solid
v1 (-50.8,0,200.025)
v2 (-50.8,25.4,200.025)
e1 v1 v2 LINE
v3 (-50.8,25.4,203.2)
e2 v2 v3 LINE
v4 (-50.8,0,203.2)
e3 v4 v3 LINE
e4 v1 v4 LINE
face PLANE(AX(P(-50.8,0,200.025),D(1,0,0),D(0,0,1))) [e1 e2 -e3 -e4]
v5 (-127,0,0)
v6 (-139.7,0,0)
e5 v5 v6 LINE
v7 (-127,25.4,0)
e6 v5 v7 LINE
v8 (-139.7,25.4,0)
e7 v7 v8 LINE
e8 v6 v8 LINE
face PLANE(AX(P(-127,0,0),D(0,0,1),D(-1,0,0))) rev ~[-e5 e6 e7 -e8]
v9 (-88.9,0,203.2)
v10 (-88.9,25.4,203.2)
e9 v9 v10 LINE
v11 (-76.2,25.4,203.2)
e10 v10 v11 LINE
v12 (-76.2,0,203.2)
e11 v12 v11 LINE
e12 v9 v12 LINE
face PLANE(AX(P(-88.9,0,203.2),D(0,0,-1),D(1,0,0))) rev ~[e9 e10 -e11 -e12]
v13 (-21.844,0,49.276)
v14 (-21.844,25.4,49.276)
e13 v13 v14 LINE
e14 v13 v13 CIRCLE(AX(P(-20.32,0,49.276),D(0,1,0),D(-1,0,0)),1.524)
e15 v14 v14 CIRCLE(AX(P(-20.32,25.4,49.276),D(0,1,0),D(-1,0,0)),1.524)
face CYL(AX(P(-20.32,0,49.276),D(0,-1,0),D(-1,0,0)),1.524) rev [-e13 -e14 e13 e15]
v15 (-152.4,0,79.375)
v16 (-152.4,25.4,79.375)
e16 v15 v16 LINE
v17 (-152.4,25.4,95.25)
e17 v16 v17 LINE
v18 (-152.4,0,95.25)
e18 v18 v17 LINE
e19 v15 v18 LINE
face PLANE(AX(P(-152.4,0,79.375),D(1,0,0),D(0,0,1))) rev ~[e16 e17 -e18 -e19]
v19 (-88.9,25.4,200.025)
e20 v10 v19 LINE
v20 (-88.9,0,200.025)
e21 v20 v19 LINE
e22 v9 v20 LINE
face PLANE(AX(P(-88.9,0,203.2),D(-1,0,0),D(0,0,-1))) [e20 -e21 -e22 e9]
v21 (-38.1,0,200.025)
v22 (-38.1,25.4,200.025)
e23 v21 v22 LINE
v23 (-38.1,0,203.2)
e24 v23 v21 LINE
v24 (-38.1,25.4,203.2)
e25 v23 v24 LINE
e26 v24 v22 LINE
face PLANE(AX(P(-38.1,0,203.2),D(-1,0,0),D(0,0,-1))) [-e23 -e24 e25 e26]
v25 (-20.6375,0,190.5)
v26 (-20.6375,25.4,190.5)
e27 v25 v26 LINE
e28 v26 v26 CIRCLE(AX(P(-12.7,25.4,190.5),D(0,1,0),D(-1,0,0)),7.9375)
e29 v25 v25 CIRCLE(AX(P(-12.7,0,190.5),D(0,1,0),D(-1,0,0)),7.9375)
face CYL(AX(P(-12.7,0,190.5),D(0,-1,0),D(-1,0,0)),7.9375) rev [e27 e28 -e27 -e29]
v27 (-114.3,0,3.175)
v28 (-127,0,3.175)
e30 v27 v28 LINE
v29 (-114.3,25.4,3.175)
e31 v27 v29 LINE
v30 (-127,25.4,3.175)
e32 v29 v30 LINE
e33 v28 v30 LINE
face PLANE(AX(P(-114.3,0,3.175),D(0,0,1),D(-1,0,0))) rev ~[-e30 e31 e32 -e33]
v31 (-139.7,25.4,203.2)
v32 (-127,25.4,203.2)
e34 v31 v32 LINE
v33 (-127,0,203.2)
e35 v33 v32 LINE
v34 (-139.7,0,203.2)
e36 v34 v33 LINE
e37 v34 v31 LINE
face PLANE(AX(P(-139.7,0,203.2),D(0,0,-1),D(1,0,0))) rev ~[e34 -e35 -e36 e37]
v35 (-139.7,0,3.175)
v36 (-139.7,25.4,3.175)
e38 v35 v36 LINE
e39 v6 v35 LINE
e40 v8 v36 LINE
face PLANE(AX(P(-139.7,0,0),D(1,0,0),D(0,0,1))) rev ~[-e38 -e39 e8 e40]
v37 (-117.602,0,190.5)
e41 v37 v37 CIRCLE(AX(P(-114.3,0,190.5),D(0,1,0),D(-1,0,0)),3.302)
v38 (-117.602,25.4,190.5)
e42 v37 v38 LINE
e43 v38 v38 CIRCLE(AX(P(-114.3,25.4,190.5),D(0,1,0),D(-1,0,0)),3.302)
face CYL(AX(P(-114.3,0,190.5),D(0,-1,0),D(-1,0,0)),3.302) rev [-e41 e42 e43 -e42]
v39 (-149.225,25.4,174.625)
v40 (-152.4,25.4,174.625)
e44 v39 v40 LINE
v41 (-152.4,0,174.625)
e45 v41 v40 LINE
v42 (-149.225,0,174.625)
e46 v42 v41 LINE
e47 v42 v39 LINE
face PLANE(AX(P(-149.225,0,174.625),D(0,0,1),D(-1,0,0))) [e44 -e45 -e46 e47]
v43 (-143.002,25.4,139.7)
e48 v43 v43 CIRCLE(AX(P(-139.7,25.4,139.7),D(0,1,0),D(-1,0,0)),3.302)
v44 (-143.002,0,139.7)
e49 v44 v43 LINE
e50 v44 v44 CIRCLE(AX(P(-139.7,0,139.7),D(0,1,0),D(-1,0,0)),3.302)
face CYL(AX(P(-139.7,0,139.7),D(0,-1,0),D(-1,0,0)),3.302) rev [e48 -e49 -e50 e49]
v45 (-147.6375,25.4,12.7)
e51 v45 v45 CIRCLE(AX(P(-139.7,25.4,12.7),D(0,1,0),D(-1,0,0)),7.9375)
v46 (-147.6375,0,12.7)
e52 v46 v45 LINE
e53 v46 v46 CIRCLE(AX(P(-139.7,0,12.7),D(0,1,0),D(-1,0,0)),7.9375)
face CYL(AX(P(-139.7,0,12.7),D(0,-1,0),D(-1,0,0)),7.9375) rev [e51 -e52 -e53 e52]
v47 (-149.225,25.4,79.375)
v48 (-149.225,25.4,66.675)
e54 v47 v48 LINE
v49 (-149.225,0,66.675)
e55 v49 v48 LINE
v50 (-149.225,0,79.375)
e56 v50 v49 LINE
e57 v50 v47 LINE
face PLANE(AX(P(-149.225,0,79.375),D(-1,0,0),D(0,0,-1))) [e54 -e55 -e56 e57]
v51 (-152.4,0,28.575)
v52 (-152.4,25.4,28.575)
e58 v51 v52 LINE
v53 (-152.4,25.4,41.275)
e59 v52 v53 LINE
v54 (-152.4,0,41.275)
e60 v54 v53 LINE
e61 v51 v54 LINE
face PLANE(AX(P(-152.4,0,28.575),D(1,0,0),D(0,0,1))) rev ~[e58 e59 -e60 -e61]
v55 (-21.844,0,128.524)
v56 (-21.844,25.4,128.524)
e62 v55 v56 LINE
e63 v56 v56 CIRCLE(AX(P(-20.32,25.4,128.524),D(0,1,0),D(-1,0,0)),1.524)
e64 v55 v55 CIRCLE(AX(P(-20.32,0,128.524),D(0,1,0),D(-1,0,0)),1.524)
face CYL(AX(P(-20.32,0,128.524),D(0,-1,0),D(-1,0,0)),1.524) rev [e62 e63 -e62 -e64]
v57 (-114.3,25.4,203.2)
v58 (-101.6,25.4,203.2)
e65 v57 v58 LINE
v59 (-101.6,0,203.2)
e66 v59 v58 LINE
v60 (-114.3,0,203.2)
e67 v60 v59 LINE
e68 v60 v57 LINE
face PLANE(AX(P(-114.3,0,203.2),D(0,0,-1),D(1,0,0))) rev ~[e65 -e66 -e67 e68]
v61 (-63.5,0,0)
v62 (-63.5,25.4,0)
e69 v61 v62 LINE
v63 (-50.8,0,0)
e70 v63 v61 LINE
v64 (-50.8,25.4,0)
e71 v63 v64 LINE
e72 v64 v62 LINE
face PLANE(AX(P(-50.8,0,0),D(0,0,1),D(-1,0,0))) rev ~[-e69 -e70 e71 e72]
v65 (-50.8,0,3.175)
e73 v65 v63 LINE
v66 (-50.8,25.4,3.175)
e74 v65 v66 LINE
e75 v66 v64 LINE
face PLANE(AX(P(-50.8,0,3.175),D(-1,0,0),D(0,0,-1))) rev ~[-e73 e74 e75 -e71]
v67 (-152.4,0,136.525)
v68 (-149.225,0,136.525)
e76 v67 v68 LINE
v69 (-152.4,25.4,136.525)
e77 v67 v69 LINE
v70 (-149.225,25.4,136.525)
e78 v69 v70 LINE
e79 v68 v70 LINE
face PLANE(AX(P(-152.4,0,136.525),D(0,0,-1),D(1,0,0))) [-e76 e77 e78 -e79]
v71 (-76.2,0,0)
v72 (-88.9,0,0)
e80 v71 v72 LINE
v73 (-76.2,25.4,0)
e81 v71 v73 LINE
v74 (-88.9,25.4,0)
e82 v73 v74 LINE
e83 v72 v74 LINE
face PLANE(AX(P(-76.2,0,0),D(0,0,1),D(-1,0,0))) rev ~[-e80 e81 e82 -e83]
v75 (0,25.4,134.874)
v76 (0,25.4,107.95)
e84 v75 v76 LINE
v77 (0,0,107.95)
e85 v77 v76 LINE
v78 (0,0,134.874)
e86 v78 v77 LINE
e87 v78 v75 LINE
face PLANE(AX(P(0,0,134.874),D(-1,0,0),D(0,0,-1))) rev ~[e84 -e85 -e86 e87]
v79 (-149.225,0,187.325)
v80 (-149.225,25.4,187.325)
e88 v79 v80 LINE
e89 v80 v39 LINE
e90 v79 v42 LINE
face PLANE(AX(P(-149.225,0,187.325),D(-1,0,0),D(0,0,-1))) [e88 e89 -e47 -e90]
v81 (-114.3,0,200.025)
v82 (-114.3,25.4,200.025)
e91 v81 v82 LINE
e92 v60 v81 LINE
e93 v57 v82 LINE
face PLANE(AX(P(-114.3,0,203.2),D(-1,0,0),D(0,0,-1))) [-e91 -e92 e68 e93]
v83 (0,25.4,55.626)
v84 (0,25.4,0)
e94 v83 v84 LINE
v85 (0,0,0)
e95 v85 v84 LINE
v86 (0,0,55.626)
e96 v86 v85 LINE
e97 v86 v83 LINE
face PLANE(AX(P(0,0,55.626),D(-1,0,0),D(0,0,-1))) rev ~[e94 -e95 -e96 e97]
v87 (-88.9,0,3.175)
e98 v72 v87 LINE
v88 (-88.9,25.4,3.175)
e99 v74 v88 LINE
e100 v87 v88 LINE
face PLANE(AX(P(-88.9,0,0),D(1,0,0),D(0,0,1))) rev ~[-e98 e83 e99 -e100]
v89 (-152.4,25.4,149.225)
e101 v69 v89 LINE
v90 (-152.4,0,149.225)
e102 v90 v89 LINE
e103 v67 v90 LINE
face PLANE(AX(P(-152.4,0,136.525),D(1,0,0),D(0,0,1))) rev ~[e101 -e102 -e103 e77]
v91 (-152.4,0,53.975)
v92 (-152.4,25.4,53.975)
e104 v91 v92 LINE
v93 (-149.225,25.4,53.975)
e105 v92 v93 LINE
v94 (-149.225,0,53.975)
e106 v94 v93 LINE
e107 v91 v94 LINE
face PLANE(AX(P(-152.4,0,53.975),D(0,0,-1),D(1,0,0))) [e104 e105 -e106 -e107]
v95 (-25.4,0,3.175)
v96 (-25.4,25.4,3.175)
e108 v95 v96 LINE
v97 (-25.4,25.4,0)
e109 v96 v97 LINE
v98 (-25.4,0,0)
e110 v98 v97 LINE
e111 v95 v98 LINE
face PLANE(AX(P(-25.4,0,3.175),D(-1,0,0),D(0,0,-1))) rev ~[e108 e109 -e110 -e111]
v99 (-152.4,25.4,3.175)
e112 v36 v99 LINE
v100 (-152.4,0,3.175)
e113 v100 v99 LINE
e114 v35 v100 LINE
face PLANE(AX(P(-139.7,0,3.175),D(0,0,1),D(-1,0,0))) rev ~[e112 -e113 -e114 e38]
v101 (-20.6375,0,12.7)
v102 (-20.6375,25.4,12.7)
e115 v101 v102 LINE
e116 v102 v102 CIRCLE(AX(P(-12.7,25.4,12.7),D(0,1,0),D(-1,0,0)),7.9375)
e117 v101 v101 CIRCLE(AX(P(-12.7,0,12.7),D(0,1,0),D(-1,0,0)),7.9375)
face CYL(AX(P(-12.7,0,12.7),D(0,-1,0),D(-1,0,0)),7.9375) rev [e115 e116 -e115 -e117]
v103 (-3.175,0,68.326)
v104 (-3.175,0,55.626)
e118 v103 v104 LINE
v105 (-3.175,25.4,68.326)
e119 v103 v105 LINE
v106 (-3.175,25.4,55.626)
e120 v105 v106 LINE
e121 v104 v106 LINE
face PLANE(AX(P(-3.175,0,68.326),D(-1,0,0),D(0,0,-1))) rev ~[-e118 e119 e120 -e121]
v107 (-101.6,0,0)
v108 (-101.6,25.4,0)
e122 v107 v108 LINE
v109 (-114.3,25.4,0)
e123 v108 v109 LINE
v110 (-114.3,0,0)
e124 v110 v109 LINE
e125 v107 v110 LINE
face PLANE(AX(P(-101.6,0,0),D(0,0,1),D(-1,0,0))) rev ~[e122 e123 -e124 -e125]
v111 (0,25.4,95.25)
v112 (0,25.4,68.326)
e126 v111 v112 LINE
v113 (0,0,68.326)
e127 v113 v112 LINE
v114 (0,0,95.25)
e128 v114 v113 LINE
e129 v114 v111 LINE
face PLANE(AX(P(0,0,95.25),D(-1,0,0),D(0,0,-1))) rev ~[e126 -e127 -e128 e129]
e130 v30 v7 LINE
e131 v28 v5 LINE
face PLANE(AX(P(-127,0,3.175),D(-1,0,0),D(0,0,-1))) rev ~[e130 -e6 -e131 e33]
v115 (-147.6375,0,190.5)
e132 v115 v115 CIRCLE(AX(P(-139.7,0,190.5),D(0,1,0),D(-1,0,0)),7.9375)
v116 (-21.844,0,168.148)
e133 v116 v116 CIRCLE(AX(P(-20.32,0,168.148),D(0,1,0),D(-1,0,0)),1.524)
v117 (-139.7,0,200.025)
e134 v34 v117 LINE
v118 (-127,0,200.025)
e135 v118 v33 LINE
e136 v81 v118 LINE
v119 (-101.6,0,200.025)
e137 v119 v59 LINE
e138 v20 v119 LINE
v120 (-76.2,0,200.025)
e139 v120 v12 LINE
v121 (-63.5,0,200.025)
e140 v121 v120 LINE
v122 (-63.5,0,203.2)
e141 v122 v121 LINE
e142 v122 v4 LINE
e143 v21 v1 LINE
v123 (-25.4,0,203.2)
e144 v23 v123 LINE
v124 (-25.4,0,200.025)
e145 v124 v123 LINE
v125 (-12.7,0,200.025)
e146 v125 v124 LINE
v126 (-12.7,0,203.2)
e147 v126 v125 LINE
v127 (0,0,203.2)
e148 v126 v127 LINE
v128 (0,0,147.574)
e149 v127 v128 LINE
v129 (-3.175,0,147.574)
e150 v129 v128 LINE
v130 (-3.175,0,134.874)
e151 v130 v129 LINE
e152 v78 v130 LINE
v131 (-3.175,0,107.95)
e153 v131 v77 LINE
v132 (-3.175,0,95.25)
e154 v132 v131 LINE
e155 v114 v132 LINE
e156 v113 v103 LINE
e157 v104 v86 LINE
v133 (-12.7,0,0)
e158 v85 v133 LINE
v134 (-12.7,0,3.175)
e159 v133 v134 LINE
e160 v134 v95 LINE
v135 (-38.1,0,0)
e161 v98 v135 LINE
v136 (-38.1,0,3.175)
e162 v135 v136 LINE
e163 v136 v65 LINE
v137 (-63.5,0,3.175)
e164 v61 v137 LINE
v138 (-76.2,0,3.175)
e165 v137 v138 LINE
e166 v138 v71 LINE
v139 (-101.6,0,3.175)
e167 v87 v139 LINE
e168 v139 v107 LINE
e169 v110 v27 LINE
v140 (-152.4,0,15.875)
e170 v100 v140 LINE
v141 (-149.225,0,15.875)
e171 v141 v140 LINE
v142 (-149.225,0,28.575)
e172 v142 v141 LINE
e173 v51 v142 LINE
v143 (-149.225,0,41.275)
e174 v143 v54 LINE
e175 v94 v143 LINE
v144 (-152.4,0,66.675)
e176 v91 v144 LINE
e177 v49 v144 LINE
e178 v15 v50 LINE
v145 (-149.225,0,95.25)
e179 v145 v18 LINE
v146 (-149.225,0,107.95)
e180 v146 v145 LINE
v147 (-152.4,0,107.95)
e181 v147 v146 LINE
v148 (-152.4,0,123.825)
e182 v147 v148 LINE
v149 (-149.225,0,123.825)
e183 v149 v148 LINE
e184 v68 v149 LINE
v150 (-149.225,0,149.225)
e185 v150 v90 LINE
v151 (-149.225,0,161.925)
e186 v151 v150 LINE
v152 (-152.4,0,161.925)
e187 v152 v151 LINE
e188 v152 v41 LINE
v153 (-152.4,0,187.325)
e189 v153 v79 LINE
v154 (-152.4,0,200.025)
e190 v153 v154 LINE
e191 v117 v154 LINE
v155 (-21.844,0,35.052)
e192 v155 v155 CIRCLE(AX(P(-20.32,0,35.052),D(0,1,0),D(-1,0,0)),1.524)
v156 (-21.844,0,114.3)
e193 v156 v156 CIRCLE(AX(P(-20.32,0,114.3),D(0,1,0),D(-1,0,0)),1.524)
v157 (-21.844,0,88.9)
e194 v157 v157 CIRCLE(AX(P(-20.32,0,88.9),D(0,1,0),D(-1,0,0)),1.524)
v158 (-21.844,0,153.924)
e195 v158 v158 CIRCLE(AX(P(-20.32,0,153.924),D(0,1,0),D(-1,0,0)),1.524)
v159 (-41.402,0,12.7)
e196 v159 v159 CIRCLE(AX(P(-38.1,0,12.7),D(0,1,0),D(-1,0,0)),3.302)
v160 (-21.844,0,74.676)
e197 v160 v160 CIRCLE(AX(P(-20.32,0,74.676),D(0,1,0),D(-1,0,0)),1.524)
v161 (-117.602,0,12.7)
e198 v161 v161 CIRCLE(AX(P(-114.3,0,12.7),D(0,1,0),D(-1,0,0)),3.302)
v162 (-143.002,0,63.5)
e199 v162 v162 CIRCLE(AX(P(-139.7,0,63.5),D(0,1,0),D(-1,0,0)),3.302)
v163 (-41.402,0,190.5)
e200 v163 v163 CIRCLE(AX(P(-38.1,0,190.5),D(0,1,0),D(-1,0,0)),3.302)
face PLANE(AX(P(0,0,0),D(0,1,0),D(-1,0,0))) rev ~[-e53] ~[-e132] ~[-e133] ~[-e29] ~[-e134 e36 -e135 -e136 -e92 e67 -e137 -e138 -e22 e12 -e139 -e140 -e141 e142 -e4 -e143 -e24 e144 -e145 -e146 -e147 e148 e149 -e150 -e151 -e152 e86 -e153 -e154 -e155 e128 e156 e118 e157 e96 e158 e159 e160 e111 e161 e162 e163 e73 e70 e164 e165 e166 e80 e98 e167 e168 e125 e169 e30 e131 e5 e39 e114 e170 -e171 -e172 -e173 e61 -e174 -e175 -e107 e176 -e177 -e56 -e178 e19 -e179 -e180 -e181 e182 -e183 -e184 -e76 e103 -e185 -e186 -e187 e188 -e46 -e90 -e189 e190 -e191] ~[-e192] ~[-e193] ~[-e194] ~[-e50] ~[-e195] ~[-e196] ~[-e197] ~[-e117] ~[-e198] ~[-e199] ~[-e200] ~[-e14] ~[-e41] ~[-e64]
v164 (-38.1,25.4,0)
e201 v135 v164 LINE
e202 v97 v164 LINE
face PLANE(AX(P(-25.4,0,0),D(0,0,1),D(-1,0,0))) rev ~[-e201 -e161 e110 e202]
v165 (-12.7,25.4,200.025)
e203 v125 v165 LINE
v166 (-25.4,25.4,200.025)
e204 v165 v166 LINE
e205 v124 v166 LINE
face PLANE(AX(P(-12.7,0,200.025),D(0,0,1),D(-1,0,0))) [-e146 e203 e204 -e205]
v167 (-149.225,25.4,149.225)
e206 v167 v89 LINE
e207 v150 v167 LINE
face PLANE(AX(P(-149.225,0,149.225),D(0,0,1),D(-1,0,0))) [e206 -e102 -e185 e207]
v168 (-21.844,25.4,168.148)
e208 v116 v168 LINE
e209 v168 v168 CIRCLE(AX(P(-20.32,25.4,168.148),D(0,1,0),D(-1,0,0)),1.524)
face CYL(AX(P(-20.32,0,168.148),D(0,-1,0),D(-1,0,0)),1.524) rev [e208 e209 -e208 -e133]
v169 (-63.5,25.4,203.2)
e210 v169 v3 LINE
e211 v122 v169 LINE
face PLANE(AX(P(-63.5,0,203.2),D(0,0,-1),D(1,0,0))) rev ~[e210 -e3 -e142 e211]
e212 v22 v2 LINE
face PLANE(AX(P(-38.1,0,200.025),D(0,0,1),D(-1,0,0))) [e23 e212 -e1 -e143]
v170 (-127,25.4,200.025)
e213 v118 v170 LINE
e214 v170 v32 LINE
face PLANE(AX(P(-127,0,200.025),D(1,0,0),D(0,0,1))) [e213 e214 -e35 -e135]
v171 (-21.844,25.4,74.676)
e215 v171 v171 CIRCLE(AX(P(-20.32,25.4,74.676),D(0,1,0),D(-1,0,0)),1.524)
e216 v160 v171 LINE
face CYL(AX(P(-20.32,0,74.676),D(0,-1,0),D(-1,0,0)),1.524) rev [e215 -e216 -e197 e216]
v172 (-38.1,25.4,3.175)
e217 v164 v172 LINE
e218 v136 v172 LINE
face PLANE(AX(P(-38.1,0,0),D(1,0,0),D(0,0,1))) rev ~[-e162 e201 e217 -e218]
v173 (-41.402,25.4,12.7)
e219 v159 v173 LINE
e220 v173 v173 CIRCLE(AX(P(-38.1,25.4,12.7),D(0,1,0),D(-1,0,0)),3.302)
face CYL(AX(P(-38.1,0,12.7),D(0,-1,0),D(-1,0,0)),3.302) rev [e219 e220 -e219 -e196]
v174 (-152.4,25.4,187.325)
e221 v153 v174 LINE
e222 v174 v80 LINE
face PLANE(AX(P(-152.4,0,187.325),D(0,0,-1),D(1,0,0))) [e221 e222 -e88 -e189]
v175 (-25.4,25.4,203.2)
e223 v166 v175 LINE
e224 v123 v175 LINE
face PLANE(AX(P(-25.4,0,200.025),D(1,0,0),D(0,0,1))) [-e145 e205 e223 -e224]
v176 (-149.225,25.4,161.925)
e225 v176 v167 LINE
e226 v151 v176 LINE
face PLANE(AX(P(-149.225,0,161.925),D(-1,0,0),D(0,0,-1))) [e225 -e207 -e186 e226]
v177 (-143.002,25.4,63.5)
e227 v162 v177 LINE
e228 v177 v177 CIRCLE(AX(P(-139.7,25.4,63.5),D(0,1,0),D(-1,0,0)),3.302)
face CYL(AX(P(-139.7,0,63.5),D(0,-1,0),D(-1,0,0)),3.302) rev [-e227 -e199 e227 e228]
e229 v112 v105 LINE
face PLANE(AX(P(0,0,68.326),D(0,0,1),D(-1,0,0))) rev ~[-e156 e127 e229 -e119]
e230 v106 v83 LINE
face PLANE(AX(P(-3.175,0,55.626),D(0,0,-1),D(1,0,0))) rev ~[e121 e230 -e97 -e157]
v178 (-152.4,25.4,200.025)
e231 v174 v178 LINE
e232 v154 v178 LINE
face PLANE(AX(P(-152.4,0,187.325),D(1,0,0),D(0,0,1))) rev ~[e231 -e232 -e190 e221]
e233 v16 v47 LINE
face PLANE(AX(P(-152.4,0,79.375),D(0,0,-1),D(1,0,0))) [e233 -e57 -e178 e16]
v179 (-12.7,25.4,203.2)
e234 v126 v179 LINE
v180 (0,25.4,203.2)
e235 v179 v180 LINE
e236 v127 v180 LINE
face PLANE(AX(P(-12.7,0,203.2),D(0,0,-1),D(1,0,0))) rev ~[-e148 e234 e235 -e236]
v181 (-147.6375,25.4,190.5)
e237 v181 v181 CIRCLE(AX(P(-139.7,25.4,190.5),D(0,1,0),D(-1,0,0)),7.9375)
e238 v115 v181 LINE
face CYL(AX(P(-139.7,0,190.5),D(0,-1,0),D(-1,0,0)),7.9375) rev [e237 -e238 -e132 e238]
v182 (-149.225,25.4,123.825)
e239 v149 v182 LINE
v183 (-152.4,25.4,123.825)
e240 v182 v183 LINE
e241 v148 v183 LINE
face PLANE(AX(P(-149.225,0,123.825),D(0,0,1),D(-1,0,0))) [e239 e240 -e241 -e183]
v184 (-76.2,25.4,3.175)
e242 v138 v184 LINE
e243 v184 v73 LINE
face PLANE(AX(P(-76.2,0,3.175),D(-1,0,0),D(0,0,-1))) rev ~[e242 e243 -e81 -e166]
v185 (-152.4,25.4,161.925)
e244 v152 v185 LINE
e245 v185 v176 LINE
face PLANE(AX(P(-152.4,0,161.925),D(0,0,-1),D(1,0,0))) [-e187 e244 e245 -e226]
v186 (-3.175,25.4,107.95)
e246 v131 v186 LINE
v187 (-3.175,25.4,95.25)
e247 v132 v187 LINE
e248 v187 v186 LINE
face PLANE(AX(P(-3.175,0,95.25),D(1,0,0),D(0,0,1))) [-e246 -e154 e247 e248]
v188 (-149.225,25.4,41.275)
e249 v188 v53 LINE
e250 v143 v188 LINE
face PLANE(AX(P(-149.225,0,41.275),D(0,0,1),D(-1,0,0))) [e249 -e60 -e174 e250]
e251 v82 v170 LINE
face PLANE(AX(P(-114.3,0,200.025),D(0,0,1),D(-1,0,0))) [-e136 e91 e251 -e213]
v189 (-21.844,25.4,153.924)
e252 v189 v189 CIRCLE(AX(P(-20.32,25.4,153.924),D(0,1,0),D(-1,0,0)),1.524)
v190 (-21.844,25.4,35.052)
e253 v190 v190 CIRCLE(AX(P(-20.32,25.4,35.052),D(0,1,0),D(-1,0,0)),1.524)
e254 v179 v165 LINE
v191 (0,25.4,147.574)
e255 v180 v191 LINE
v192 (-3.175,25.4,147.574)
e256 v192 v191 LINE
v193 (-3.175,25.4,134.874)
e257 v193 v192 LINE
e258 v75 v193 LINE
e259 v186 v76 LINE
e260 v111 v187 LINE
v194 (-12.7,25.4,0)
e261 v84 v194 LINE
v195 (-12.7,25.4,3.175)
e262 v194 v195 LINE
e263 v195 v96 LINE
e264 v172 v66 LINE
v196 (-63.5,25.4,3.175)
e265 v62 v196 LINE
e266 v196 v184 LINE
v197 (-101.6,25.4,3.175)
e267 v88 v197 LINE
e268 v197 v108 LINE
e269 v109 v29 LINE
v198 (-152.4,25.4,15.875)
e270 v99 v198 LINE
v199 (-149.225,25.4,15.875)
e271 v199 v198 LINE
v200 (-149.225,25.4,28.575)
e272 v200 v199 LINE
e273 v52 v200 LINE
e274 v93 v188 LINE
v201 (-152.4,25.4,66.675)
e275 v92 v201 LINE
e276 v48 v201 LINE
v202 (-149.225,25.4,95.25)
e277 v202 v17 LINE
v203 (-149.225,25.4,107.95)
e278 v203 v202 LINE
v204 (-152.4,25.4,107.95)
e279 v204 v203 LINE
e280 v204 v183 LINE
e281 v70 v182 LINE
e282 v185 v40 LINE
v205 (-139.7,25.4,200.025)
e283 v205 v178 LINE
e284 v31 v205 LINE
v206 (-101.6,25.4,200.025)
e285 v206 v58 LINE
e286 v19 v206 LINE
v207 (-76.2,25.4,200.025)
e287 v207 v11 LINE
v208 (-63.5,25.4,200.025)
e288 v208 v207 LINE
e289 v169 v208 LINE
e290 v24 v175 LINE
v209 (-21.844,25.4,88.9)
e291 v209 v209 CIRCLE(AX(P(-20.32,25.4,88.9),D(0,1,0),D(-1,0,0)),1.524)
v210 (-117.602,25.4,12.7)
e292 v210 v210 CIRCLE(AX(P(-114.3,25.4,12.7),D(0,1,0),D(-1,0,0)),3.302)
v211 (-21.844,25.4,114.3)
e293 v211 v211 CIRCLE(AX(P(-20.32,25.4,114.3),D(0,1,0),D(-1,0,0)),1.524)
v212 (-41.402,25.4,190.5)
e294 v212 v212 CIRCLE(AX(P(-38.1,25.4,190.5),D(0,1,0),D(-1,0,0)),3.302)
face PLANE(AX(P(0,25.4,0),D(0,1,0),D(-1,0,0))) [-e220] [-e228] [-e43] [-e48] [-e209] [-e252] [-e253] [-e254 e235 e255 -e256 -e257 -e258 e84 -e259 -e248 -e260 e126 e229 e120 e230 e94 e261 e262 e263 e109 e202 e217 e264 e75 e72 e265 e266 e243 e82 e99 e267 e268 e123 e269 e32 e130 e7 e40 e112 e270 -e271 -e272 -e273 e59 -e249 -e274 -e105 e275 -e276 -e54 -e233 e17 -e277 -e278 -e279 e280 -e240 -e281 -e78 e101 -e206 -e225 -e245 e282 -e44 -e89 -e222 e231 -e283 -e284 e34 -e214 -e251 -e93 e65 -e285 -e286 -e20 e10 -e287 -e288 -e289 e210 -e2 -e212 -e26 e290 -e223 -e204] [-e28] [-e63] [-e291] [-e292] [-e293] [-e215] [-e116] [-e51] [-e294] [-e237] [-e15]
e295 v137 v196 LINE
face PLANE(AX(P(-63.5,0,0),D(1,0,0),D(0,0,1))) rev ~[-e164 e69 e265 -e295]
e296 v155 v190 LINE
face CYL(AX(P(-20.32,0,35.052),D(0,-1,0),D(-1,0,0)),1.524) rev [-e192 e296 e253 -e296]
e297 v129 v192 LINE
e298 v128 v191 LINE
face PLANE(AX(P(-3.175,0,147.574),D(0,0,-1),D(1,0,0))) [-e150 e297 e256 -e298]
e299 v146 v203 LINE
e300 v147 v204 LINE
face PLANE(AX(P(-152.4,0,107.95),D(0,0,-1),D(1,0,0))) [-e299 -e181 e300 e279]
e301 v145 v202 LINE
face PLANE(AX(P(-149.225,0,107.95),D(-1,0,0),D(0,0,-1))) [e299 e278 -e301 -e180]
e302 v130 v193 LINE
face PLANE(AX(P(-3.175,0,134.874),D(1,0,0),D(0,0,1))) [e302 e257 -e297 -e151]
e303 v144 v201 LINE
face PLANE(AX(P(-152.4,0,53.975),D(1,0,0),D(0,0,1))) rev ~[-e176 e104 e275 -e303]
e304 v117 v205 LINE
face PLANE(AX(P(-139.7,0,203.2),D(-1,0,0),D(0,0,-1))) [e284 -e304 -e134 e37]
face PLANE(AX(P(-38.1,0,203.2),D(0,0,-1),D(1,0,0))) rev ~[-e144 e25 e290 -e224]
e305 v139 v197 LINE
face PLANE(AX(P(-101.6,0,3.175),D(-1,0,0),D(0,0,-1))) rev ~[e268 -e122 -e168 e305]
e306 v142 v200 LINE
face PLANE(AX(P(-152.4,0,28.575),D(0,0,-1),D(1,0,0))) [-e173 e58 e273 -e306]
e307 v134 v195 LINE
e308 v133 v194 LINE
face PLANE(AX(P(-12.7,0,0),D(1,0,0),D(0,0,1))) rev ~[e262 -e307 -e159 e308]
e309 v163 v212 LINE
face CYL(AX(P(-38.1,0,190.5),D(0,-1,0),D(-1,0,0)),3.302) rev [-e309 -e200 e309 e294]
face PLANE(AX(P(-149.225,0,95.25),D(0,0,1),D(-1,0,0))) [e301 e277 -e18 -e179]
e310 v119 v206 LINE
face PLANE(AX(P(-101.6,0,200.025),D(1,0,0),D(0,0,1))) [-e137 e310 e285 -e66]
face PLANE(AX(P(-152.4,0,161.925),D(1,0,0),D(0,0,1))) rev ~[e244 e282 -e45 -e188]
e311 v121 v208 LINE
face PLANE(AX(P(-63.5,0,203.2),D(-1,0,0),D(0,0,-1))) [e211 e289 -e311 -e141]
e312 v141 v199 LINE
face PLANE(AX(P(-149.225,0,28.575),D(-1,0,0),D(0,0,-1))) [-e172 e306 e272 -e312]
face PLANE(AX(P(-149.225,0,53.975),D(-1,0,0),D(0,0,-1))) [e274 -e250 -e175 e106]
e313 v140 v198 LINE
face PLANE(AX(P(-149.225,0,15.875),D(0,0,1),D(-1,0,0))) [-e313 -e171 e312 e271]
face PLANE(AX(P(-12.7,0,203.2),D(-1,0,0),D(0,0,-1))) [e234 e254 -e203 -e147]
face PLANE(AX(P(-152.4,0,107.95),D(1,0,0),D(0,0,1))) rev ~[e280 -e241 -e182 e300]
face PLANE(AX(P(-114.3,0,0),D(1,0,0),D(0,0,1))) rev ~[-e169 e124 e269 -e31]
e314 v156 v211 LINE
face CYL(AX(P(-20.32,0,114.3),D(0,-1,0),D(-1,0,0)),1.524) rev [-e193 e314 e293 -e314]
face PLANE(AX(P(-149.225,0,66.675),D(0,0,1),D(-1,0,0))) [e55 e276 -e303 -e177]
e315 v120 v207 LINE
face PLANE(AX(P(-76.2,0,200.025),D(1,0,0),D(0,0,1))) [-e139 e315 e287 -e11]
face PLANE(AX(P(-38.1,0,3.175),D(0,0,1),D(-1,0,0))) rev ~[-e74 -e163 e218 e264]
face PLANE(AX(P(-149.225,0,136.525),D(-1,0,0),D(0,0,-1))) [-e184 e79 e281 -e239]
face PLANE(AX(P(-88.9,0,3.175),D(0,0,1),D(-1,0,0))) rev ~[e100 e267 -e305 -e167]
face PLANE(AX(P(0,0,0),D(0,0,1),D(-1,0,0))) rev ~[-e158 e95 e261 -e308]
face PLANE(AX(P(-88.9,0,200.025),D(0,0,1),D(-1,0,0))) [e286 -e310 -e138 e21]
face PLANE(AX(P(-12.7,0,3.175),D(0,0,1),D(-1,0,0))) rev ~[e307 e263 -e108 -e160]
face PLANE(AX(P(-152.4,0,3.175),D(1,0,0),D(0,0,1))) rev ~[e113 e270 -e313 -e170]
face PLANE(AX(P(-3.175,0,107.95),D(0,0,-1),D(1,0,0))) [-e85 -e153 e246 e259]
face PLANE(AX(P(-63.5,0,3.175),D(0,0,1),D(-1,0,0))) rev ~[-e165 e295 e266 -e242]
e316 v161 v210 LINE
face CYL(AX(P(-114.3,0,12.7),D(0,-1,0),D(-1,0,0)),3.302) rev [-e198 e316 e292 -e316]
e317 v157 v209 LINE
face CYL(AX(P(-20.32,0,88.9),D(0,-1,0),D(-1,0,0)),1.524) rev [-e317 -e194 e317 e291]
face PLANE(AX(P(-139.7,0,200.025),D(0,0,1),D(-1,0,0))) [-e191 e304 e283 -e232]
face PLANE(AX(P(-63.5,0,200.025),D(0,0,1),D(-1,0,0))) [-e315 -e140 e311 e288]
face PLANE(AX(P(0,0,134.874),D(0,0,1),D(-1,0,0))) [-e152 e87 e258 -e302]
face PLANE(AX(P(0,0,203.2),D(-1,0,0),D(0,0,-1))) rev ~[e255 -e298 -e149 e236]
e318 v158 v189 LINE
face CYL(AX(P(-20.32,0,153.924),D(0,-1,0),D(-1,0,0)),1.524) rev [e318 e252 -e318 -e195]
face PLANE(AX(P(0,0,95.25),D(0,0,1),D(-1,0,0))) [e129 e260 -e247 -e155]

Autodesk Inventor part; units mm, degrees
ref_plane "YZ Plane" through (0, 0, 0) normal (1, 0, 0) x (0, 1, 0)
ref_plane "XZ Plane" through (0, 0, 0) normal (0, 1, 0) x (-1, 0, 0)
ref_plane "XY Plane" through (0, 0, 0) normal (0, 0, 1) x (1, 0, 0)
sketch "Sketch1" plane through (0, 0, 0) normal (0, 1, 0) x (-1, 0, 0)
  line L0 (0, 0) -> (152.4, 0)
  line L1 (152.4, 0) -> (152.4, 203.2)
  line L2 (152.4, 203.2) -> (0, 203.2)
  line L3 (0, 203.2) -> (0, 0)
  circle A0 centre (12.7, 190.5) radius 7.9375
  circle A1 centre (139.7, 190.5) radius 7.9375
  circle A2 centre (139.7, 12.7) radius 7.9375
  circle A3 centre (12.7, 12.7) radius 7.9375
  circle A4 centre (114.3, 190.5) radius 3.302
  circle A5 centre (38.1, 190.5) radius 3.302
  circle A6 centre (114.3, 12.7) radius 3.302
  circle A7 centre (38.1, 12.7) radius 3.302
  circle A8 centre (139.7, 139.7) radius 3.302
  circle A9 centre (139.7, 63.5) radius 3.302
  circle A10 centre (20.32, 168.148) radius 1.524
  circle A11 centre (20.32, 153.924) radius 1.524
  circle A12 centre (20.32, 128.524) radius 1.524
  circle A13 centre (20.32, 114.3) radius 1.524
  circle A14 centre (20.32, 88.9) radius 1.524
  circle A15 centre (20.32, 74.676) radius 1.524
  circle A16 centre (20.32, 49.276) radius 1.524
  circle A17 centre (20.32, 35.052) radius 1.524
  line L4 (152.4, 203.2) -> (139.7, 203.2)
  line L5 (139.7, 203.2) -> (139.7, 200.025)
  line L6 (139.7, 200.025) -> (152.4, 200.025)
  line L7 (152.4, 200.025) -> (152.4, 203.2)
  line L8 (127, 203.2) -> (114.3, 203.2)
  line L9 (114.3, 203.2) -> (114.3, 200.025)
  line L10 (114.3, 200.025) -> (127, 200.025)
  line L11 (127, 200.025) -> (127, 203.2)
  line L12 (101.6, 203.2) -> (88.9, 203.2)
  line L13 (88.9, 203.2) -> (88.9, 200.025)
  line L14 (88.9, 200.025) -> (101.6, 200.025)
  line L15 (101.6, 200.025) -> (101.6, 203.2)
  line L16 (76.2, 203.2) -> (63.5, 203.2)
  line L17 (63.5, 203.2) -> (63.5, 200.025)
  line L18 (63.5, 200.025) -> (76.2, 200.025)
  line L19 (76.2, 200.025) -> (76.2, 203.2)
  line L20 (50.8, 203.2) -> (38.1, 203.2)
  line L21 (38.1, 203.2) -> (38.1, 200.025)
  line L22 (38.1, 200.025) -> (50.8, 200.025)
  line L23 (50.8, 200.025) -> (50.8, 203.2)
  line L24 (25.4, 203.2) -> (12.7, 203.2)
  line L25 (12.7, 203.2) -> (12.7, 200.025)
  line L26 (12.7, 200.025) -> (25.4, 200.025)
  line L27 (25.4, 200.025) -> (25.4, 203.2)
  line L28 (152.4, 0) -> (139.7, 0)
  line L29 (139.7, 0) -> (139.7, 3.175)
  line L30 (139.7, 3.175) -> (152.4, 3.175)
  line L31 (152.4, 3.175) -> (152.4, 0)
  line L32 (127, 0) -> (114.3, 0)
  line L33 (114.3, 0) -> (114.3, 3.175)
  line L34 (114.3, 3.175) -> (127, 3.175)
  line L35 (127, 3.175) -> (127, 0)
  line L36 (101.6, 0) -> (88.9, 0)
  line L37 (88.9, 0) -> (88.9, 3.175)
  line L38 (88.9, 3.175) -> (101.6, 3.175)
  line L39 (101.6, 3.175) -> (101.6, 0)
  line L40 (76.2, 0) -> (63.5, 0)
  line L41 (63.5, 0) -> (63.5, 3.175)
  line L42 (63.5, 3.175) -> (76.2, 3.175)
  line L43 (76.2, 3.175) -> (76.2, 0)
  line L44 (50.8, 0) -> (38.1, 0)
  line L45 (38.1, 0) -> (38.1, 3.175)
  line L46 (38.1, 3.175) -> (50.8, 3.175)
  line L47 (50.8, 3.175) -> (50.8, 0)
  line L48 (25.4, 0) -> (12.7, 0)
  line L49 (12.7, 0) -> (12.7, 3.175)
  line L50 (12.7, 3.175) -> (25.4, 3.175)
  line L51 (25.4, 3.175) -> (25.4, 0)
  line L52 (152.4, 187.325) -> (149.225, 187.325)
  line L53 (149.225, 187.325) -> (149.225, 174.625)
  line L54 (149.225, 174.625) -> (152.4, 174.625)
  line L55 (152.4, 174.625) -> (152.4, 187.325)
  line L56 (152.4, 161.925) -> (149.225, 161.925)
  line L57 (149.225, 161.925) -> (149.225, 149.225)
  line L58 (149.225, 149.225) -> (152.4, 149.225)
  line L59 (152.4, 149.225) -> (152.4, 161.925)
  line L60 (152.4, 136.525) -> (149.225, 136.525)
  line L61 (149.225, 136.525) -> (149.225, 123.825)
  line L62 (149.225, 123.825) -> (152.4, 123.825)
  line L63 (152.4, 123.825) -> (152.4, 136.525)
  line L64 (152.4, 107.95) -> (149.225, 107.95)
  line L65 (149.225, 107.95) -> (149.225, 95.25)
  line L66 (149.225, 95.25) -> (152.4, 95.25)
  line L67 (152.4, 95.25) -> (152.4, 107.95)
  line L68 (152.4, 79.375) -> (149.225, 79.375)
  line L69 (149.225, 79.375) -> (149.225, 66.675)
  line L70 (149.225, 66.675) -> (152.4, 66.675)
  line L71 (152.4, 66.675) -> (152.4, 79.375)
  line L72 (152.4, 53.975) -> (149.225, 53.975)
  line L73 (149.225, 53.975) -> (149.225, 41.275)
  line L74 (149.225, 41.275) -> (152.4, 41.275)
  line L75 (152.4, 41.275) -> (152.4, 53.975)
  line L76 (152.4, 28.575) -> (149.225, 28.575)
  line L77 (149.225, 28.575) -> (149.225, 15.875)
  line L78 (149.225, 15.875) -> (152.4, 15.875)
  line L79 (152.4, 15.875) -> (152.4, 28.575)
  line L80 (0, 147.574) -> (0, 134.874)
  line L81 (0, 134.874) -> (3.175, 134.874)
  line L82 (3.175, 134.874) -> (3.175, 147.574)
  line L83 (3.175, 147.574) -> (0, 147.574)
  line L84 (0, 107.95) -> (0, 95.25)
  line L85 (0, 95.25) -> (3.175, 95.25)
  line L86 (3.175, 95.25) -> (3.175, 107.95)
  line L87 (3.175, 107.95) -> (0, 107.95)
  line L88 (0, 55.626) -> (0, 68.326)
  line L89 (0, 68.326) -> (3.175, 68.326)
  line L90 (3.175, 68.326) -> (3.175, 55.626)
  line L91 (3.175, 55.626) -> (0, 55.626)
  dimension "d0" = 152.4
  dimension "d1" = 203.2
  dimension "d40" = 15.875
  dimension "d41" = 15.875
  dimension "d42" = 15.875
  dimension "d43" = 15.875
  dimension "d44" = 12.7
  dimension "d45" = 12.7
  dimension "d46" = 12.7
  dimension "d47" = 12.7
  dimension "d48" = 12.7
  dimension "d49" = 12.7
  dimension "d50" = 12.7
  dimension "d51" = 12.7
  dimension "d52" = 177.8
  dimension "d53" = 127
  dimension "d54" = 6.604
  dimension "d55" = 6.604
  dimension "d56" = 25.4
  dimension "d57" = 25.4
  dimension "d58" = 12.7
  dimension "d59" = 12.7
  dimension "d60" = 6.604
  dimension "d61" = 6.604
  dimension "d62" = 12.7
  dimension "d63" = 12.7
  dimension "d64" = 25.4
  dimension "d65" = 25.4
  dimension "d66" = 6.604
  dimension "d67" = 6.604
  dimension "d68" = 50.8
  dimension "d69" = 50.8
  dimension "d70" = 12.7
  dimension "d71" = 12.7
  dimension "d72" = 3.048
  dimension "d73" = 3.048
  dimension "d74" = 3.048
  dimension "d75" = 3.048
  dimension "d76" = 3.048
  dimension "d77" = 3.048
  dimension "d78" = 20.32
  dimension "d79" = 20.32
  dimension "d80" = 20.32
  dimension "d81" = 20.32
  dimension "d82" = 20.32
  dimension "d83" = 20.32
  dimension "d84" = 22.352
  dimension "d85" = 14.224
  dimension "d86" = 25.4
  dimension "d87" = 14.224
  dimension "d88" = 25.4
  dimension "d89" = 14.224
  dimension "d90" = 3.048
  dimension "d91" = 3.048
  dimension "d92" = 25.4
  dimension "d93" = 14.224
  dimension "d97" = 12.7
  dimension "d98" = 3.175
  dimension "d99" = 12.7
  dimension "d100" = 3.175
  dimension "d101" = 12.7
  dimension "d102" = 3.175
  dimension "d103" = 12.7
  dimension "d104" = 3.175
extrude "Extrusion4" add sketch "Sketch1" along normal blind 25.4 contours L3 L91 L90 L89 L85 L86 L87 L81 L82 L83 L2 L25 L26 L27 L21 L22 L23 L17 L18 L19 L13 L14 L15 L9 L10 L11 L5 L6 L1 L52 L53 L54 L56 L57 L58 L60 L61 L62 L64 L65 L66 L68 L69 L70 L72 L73 L74 L76 L77 L78 L30 L29 L0 L35 L34 L33 L39 L38 L37 L43 L42 L41 L47 L46 L45 L51 L50 L49
properties part number "TOP_PANEL"
